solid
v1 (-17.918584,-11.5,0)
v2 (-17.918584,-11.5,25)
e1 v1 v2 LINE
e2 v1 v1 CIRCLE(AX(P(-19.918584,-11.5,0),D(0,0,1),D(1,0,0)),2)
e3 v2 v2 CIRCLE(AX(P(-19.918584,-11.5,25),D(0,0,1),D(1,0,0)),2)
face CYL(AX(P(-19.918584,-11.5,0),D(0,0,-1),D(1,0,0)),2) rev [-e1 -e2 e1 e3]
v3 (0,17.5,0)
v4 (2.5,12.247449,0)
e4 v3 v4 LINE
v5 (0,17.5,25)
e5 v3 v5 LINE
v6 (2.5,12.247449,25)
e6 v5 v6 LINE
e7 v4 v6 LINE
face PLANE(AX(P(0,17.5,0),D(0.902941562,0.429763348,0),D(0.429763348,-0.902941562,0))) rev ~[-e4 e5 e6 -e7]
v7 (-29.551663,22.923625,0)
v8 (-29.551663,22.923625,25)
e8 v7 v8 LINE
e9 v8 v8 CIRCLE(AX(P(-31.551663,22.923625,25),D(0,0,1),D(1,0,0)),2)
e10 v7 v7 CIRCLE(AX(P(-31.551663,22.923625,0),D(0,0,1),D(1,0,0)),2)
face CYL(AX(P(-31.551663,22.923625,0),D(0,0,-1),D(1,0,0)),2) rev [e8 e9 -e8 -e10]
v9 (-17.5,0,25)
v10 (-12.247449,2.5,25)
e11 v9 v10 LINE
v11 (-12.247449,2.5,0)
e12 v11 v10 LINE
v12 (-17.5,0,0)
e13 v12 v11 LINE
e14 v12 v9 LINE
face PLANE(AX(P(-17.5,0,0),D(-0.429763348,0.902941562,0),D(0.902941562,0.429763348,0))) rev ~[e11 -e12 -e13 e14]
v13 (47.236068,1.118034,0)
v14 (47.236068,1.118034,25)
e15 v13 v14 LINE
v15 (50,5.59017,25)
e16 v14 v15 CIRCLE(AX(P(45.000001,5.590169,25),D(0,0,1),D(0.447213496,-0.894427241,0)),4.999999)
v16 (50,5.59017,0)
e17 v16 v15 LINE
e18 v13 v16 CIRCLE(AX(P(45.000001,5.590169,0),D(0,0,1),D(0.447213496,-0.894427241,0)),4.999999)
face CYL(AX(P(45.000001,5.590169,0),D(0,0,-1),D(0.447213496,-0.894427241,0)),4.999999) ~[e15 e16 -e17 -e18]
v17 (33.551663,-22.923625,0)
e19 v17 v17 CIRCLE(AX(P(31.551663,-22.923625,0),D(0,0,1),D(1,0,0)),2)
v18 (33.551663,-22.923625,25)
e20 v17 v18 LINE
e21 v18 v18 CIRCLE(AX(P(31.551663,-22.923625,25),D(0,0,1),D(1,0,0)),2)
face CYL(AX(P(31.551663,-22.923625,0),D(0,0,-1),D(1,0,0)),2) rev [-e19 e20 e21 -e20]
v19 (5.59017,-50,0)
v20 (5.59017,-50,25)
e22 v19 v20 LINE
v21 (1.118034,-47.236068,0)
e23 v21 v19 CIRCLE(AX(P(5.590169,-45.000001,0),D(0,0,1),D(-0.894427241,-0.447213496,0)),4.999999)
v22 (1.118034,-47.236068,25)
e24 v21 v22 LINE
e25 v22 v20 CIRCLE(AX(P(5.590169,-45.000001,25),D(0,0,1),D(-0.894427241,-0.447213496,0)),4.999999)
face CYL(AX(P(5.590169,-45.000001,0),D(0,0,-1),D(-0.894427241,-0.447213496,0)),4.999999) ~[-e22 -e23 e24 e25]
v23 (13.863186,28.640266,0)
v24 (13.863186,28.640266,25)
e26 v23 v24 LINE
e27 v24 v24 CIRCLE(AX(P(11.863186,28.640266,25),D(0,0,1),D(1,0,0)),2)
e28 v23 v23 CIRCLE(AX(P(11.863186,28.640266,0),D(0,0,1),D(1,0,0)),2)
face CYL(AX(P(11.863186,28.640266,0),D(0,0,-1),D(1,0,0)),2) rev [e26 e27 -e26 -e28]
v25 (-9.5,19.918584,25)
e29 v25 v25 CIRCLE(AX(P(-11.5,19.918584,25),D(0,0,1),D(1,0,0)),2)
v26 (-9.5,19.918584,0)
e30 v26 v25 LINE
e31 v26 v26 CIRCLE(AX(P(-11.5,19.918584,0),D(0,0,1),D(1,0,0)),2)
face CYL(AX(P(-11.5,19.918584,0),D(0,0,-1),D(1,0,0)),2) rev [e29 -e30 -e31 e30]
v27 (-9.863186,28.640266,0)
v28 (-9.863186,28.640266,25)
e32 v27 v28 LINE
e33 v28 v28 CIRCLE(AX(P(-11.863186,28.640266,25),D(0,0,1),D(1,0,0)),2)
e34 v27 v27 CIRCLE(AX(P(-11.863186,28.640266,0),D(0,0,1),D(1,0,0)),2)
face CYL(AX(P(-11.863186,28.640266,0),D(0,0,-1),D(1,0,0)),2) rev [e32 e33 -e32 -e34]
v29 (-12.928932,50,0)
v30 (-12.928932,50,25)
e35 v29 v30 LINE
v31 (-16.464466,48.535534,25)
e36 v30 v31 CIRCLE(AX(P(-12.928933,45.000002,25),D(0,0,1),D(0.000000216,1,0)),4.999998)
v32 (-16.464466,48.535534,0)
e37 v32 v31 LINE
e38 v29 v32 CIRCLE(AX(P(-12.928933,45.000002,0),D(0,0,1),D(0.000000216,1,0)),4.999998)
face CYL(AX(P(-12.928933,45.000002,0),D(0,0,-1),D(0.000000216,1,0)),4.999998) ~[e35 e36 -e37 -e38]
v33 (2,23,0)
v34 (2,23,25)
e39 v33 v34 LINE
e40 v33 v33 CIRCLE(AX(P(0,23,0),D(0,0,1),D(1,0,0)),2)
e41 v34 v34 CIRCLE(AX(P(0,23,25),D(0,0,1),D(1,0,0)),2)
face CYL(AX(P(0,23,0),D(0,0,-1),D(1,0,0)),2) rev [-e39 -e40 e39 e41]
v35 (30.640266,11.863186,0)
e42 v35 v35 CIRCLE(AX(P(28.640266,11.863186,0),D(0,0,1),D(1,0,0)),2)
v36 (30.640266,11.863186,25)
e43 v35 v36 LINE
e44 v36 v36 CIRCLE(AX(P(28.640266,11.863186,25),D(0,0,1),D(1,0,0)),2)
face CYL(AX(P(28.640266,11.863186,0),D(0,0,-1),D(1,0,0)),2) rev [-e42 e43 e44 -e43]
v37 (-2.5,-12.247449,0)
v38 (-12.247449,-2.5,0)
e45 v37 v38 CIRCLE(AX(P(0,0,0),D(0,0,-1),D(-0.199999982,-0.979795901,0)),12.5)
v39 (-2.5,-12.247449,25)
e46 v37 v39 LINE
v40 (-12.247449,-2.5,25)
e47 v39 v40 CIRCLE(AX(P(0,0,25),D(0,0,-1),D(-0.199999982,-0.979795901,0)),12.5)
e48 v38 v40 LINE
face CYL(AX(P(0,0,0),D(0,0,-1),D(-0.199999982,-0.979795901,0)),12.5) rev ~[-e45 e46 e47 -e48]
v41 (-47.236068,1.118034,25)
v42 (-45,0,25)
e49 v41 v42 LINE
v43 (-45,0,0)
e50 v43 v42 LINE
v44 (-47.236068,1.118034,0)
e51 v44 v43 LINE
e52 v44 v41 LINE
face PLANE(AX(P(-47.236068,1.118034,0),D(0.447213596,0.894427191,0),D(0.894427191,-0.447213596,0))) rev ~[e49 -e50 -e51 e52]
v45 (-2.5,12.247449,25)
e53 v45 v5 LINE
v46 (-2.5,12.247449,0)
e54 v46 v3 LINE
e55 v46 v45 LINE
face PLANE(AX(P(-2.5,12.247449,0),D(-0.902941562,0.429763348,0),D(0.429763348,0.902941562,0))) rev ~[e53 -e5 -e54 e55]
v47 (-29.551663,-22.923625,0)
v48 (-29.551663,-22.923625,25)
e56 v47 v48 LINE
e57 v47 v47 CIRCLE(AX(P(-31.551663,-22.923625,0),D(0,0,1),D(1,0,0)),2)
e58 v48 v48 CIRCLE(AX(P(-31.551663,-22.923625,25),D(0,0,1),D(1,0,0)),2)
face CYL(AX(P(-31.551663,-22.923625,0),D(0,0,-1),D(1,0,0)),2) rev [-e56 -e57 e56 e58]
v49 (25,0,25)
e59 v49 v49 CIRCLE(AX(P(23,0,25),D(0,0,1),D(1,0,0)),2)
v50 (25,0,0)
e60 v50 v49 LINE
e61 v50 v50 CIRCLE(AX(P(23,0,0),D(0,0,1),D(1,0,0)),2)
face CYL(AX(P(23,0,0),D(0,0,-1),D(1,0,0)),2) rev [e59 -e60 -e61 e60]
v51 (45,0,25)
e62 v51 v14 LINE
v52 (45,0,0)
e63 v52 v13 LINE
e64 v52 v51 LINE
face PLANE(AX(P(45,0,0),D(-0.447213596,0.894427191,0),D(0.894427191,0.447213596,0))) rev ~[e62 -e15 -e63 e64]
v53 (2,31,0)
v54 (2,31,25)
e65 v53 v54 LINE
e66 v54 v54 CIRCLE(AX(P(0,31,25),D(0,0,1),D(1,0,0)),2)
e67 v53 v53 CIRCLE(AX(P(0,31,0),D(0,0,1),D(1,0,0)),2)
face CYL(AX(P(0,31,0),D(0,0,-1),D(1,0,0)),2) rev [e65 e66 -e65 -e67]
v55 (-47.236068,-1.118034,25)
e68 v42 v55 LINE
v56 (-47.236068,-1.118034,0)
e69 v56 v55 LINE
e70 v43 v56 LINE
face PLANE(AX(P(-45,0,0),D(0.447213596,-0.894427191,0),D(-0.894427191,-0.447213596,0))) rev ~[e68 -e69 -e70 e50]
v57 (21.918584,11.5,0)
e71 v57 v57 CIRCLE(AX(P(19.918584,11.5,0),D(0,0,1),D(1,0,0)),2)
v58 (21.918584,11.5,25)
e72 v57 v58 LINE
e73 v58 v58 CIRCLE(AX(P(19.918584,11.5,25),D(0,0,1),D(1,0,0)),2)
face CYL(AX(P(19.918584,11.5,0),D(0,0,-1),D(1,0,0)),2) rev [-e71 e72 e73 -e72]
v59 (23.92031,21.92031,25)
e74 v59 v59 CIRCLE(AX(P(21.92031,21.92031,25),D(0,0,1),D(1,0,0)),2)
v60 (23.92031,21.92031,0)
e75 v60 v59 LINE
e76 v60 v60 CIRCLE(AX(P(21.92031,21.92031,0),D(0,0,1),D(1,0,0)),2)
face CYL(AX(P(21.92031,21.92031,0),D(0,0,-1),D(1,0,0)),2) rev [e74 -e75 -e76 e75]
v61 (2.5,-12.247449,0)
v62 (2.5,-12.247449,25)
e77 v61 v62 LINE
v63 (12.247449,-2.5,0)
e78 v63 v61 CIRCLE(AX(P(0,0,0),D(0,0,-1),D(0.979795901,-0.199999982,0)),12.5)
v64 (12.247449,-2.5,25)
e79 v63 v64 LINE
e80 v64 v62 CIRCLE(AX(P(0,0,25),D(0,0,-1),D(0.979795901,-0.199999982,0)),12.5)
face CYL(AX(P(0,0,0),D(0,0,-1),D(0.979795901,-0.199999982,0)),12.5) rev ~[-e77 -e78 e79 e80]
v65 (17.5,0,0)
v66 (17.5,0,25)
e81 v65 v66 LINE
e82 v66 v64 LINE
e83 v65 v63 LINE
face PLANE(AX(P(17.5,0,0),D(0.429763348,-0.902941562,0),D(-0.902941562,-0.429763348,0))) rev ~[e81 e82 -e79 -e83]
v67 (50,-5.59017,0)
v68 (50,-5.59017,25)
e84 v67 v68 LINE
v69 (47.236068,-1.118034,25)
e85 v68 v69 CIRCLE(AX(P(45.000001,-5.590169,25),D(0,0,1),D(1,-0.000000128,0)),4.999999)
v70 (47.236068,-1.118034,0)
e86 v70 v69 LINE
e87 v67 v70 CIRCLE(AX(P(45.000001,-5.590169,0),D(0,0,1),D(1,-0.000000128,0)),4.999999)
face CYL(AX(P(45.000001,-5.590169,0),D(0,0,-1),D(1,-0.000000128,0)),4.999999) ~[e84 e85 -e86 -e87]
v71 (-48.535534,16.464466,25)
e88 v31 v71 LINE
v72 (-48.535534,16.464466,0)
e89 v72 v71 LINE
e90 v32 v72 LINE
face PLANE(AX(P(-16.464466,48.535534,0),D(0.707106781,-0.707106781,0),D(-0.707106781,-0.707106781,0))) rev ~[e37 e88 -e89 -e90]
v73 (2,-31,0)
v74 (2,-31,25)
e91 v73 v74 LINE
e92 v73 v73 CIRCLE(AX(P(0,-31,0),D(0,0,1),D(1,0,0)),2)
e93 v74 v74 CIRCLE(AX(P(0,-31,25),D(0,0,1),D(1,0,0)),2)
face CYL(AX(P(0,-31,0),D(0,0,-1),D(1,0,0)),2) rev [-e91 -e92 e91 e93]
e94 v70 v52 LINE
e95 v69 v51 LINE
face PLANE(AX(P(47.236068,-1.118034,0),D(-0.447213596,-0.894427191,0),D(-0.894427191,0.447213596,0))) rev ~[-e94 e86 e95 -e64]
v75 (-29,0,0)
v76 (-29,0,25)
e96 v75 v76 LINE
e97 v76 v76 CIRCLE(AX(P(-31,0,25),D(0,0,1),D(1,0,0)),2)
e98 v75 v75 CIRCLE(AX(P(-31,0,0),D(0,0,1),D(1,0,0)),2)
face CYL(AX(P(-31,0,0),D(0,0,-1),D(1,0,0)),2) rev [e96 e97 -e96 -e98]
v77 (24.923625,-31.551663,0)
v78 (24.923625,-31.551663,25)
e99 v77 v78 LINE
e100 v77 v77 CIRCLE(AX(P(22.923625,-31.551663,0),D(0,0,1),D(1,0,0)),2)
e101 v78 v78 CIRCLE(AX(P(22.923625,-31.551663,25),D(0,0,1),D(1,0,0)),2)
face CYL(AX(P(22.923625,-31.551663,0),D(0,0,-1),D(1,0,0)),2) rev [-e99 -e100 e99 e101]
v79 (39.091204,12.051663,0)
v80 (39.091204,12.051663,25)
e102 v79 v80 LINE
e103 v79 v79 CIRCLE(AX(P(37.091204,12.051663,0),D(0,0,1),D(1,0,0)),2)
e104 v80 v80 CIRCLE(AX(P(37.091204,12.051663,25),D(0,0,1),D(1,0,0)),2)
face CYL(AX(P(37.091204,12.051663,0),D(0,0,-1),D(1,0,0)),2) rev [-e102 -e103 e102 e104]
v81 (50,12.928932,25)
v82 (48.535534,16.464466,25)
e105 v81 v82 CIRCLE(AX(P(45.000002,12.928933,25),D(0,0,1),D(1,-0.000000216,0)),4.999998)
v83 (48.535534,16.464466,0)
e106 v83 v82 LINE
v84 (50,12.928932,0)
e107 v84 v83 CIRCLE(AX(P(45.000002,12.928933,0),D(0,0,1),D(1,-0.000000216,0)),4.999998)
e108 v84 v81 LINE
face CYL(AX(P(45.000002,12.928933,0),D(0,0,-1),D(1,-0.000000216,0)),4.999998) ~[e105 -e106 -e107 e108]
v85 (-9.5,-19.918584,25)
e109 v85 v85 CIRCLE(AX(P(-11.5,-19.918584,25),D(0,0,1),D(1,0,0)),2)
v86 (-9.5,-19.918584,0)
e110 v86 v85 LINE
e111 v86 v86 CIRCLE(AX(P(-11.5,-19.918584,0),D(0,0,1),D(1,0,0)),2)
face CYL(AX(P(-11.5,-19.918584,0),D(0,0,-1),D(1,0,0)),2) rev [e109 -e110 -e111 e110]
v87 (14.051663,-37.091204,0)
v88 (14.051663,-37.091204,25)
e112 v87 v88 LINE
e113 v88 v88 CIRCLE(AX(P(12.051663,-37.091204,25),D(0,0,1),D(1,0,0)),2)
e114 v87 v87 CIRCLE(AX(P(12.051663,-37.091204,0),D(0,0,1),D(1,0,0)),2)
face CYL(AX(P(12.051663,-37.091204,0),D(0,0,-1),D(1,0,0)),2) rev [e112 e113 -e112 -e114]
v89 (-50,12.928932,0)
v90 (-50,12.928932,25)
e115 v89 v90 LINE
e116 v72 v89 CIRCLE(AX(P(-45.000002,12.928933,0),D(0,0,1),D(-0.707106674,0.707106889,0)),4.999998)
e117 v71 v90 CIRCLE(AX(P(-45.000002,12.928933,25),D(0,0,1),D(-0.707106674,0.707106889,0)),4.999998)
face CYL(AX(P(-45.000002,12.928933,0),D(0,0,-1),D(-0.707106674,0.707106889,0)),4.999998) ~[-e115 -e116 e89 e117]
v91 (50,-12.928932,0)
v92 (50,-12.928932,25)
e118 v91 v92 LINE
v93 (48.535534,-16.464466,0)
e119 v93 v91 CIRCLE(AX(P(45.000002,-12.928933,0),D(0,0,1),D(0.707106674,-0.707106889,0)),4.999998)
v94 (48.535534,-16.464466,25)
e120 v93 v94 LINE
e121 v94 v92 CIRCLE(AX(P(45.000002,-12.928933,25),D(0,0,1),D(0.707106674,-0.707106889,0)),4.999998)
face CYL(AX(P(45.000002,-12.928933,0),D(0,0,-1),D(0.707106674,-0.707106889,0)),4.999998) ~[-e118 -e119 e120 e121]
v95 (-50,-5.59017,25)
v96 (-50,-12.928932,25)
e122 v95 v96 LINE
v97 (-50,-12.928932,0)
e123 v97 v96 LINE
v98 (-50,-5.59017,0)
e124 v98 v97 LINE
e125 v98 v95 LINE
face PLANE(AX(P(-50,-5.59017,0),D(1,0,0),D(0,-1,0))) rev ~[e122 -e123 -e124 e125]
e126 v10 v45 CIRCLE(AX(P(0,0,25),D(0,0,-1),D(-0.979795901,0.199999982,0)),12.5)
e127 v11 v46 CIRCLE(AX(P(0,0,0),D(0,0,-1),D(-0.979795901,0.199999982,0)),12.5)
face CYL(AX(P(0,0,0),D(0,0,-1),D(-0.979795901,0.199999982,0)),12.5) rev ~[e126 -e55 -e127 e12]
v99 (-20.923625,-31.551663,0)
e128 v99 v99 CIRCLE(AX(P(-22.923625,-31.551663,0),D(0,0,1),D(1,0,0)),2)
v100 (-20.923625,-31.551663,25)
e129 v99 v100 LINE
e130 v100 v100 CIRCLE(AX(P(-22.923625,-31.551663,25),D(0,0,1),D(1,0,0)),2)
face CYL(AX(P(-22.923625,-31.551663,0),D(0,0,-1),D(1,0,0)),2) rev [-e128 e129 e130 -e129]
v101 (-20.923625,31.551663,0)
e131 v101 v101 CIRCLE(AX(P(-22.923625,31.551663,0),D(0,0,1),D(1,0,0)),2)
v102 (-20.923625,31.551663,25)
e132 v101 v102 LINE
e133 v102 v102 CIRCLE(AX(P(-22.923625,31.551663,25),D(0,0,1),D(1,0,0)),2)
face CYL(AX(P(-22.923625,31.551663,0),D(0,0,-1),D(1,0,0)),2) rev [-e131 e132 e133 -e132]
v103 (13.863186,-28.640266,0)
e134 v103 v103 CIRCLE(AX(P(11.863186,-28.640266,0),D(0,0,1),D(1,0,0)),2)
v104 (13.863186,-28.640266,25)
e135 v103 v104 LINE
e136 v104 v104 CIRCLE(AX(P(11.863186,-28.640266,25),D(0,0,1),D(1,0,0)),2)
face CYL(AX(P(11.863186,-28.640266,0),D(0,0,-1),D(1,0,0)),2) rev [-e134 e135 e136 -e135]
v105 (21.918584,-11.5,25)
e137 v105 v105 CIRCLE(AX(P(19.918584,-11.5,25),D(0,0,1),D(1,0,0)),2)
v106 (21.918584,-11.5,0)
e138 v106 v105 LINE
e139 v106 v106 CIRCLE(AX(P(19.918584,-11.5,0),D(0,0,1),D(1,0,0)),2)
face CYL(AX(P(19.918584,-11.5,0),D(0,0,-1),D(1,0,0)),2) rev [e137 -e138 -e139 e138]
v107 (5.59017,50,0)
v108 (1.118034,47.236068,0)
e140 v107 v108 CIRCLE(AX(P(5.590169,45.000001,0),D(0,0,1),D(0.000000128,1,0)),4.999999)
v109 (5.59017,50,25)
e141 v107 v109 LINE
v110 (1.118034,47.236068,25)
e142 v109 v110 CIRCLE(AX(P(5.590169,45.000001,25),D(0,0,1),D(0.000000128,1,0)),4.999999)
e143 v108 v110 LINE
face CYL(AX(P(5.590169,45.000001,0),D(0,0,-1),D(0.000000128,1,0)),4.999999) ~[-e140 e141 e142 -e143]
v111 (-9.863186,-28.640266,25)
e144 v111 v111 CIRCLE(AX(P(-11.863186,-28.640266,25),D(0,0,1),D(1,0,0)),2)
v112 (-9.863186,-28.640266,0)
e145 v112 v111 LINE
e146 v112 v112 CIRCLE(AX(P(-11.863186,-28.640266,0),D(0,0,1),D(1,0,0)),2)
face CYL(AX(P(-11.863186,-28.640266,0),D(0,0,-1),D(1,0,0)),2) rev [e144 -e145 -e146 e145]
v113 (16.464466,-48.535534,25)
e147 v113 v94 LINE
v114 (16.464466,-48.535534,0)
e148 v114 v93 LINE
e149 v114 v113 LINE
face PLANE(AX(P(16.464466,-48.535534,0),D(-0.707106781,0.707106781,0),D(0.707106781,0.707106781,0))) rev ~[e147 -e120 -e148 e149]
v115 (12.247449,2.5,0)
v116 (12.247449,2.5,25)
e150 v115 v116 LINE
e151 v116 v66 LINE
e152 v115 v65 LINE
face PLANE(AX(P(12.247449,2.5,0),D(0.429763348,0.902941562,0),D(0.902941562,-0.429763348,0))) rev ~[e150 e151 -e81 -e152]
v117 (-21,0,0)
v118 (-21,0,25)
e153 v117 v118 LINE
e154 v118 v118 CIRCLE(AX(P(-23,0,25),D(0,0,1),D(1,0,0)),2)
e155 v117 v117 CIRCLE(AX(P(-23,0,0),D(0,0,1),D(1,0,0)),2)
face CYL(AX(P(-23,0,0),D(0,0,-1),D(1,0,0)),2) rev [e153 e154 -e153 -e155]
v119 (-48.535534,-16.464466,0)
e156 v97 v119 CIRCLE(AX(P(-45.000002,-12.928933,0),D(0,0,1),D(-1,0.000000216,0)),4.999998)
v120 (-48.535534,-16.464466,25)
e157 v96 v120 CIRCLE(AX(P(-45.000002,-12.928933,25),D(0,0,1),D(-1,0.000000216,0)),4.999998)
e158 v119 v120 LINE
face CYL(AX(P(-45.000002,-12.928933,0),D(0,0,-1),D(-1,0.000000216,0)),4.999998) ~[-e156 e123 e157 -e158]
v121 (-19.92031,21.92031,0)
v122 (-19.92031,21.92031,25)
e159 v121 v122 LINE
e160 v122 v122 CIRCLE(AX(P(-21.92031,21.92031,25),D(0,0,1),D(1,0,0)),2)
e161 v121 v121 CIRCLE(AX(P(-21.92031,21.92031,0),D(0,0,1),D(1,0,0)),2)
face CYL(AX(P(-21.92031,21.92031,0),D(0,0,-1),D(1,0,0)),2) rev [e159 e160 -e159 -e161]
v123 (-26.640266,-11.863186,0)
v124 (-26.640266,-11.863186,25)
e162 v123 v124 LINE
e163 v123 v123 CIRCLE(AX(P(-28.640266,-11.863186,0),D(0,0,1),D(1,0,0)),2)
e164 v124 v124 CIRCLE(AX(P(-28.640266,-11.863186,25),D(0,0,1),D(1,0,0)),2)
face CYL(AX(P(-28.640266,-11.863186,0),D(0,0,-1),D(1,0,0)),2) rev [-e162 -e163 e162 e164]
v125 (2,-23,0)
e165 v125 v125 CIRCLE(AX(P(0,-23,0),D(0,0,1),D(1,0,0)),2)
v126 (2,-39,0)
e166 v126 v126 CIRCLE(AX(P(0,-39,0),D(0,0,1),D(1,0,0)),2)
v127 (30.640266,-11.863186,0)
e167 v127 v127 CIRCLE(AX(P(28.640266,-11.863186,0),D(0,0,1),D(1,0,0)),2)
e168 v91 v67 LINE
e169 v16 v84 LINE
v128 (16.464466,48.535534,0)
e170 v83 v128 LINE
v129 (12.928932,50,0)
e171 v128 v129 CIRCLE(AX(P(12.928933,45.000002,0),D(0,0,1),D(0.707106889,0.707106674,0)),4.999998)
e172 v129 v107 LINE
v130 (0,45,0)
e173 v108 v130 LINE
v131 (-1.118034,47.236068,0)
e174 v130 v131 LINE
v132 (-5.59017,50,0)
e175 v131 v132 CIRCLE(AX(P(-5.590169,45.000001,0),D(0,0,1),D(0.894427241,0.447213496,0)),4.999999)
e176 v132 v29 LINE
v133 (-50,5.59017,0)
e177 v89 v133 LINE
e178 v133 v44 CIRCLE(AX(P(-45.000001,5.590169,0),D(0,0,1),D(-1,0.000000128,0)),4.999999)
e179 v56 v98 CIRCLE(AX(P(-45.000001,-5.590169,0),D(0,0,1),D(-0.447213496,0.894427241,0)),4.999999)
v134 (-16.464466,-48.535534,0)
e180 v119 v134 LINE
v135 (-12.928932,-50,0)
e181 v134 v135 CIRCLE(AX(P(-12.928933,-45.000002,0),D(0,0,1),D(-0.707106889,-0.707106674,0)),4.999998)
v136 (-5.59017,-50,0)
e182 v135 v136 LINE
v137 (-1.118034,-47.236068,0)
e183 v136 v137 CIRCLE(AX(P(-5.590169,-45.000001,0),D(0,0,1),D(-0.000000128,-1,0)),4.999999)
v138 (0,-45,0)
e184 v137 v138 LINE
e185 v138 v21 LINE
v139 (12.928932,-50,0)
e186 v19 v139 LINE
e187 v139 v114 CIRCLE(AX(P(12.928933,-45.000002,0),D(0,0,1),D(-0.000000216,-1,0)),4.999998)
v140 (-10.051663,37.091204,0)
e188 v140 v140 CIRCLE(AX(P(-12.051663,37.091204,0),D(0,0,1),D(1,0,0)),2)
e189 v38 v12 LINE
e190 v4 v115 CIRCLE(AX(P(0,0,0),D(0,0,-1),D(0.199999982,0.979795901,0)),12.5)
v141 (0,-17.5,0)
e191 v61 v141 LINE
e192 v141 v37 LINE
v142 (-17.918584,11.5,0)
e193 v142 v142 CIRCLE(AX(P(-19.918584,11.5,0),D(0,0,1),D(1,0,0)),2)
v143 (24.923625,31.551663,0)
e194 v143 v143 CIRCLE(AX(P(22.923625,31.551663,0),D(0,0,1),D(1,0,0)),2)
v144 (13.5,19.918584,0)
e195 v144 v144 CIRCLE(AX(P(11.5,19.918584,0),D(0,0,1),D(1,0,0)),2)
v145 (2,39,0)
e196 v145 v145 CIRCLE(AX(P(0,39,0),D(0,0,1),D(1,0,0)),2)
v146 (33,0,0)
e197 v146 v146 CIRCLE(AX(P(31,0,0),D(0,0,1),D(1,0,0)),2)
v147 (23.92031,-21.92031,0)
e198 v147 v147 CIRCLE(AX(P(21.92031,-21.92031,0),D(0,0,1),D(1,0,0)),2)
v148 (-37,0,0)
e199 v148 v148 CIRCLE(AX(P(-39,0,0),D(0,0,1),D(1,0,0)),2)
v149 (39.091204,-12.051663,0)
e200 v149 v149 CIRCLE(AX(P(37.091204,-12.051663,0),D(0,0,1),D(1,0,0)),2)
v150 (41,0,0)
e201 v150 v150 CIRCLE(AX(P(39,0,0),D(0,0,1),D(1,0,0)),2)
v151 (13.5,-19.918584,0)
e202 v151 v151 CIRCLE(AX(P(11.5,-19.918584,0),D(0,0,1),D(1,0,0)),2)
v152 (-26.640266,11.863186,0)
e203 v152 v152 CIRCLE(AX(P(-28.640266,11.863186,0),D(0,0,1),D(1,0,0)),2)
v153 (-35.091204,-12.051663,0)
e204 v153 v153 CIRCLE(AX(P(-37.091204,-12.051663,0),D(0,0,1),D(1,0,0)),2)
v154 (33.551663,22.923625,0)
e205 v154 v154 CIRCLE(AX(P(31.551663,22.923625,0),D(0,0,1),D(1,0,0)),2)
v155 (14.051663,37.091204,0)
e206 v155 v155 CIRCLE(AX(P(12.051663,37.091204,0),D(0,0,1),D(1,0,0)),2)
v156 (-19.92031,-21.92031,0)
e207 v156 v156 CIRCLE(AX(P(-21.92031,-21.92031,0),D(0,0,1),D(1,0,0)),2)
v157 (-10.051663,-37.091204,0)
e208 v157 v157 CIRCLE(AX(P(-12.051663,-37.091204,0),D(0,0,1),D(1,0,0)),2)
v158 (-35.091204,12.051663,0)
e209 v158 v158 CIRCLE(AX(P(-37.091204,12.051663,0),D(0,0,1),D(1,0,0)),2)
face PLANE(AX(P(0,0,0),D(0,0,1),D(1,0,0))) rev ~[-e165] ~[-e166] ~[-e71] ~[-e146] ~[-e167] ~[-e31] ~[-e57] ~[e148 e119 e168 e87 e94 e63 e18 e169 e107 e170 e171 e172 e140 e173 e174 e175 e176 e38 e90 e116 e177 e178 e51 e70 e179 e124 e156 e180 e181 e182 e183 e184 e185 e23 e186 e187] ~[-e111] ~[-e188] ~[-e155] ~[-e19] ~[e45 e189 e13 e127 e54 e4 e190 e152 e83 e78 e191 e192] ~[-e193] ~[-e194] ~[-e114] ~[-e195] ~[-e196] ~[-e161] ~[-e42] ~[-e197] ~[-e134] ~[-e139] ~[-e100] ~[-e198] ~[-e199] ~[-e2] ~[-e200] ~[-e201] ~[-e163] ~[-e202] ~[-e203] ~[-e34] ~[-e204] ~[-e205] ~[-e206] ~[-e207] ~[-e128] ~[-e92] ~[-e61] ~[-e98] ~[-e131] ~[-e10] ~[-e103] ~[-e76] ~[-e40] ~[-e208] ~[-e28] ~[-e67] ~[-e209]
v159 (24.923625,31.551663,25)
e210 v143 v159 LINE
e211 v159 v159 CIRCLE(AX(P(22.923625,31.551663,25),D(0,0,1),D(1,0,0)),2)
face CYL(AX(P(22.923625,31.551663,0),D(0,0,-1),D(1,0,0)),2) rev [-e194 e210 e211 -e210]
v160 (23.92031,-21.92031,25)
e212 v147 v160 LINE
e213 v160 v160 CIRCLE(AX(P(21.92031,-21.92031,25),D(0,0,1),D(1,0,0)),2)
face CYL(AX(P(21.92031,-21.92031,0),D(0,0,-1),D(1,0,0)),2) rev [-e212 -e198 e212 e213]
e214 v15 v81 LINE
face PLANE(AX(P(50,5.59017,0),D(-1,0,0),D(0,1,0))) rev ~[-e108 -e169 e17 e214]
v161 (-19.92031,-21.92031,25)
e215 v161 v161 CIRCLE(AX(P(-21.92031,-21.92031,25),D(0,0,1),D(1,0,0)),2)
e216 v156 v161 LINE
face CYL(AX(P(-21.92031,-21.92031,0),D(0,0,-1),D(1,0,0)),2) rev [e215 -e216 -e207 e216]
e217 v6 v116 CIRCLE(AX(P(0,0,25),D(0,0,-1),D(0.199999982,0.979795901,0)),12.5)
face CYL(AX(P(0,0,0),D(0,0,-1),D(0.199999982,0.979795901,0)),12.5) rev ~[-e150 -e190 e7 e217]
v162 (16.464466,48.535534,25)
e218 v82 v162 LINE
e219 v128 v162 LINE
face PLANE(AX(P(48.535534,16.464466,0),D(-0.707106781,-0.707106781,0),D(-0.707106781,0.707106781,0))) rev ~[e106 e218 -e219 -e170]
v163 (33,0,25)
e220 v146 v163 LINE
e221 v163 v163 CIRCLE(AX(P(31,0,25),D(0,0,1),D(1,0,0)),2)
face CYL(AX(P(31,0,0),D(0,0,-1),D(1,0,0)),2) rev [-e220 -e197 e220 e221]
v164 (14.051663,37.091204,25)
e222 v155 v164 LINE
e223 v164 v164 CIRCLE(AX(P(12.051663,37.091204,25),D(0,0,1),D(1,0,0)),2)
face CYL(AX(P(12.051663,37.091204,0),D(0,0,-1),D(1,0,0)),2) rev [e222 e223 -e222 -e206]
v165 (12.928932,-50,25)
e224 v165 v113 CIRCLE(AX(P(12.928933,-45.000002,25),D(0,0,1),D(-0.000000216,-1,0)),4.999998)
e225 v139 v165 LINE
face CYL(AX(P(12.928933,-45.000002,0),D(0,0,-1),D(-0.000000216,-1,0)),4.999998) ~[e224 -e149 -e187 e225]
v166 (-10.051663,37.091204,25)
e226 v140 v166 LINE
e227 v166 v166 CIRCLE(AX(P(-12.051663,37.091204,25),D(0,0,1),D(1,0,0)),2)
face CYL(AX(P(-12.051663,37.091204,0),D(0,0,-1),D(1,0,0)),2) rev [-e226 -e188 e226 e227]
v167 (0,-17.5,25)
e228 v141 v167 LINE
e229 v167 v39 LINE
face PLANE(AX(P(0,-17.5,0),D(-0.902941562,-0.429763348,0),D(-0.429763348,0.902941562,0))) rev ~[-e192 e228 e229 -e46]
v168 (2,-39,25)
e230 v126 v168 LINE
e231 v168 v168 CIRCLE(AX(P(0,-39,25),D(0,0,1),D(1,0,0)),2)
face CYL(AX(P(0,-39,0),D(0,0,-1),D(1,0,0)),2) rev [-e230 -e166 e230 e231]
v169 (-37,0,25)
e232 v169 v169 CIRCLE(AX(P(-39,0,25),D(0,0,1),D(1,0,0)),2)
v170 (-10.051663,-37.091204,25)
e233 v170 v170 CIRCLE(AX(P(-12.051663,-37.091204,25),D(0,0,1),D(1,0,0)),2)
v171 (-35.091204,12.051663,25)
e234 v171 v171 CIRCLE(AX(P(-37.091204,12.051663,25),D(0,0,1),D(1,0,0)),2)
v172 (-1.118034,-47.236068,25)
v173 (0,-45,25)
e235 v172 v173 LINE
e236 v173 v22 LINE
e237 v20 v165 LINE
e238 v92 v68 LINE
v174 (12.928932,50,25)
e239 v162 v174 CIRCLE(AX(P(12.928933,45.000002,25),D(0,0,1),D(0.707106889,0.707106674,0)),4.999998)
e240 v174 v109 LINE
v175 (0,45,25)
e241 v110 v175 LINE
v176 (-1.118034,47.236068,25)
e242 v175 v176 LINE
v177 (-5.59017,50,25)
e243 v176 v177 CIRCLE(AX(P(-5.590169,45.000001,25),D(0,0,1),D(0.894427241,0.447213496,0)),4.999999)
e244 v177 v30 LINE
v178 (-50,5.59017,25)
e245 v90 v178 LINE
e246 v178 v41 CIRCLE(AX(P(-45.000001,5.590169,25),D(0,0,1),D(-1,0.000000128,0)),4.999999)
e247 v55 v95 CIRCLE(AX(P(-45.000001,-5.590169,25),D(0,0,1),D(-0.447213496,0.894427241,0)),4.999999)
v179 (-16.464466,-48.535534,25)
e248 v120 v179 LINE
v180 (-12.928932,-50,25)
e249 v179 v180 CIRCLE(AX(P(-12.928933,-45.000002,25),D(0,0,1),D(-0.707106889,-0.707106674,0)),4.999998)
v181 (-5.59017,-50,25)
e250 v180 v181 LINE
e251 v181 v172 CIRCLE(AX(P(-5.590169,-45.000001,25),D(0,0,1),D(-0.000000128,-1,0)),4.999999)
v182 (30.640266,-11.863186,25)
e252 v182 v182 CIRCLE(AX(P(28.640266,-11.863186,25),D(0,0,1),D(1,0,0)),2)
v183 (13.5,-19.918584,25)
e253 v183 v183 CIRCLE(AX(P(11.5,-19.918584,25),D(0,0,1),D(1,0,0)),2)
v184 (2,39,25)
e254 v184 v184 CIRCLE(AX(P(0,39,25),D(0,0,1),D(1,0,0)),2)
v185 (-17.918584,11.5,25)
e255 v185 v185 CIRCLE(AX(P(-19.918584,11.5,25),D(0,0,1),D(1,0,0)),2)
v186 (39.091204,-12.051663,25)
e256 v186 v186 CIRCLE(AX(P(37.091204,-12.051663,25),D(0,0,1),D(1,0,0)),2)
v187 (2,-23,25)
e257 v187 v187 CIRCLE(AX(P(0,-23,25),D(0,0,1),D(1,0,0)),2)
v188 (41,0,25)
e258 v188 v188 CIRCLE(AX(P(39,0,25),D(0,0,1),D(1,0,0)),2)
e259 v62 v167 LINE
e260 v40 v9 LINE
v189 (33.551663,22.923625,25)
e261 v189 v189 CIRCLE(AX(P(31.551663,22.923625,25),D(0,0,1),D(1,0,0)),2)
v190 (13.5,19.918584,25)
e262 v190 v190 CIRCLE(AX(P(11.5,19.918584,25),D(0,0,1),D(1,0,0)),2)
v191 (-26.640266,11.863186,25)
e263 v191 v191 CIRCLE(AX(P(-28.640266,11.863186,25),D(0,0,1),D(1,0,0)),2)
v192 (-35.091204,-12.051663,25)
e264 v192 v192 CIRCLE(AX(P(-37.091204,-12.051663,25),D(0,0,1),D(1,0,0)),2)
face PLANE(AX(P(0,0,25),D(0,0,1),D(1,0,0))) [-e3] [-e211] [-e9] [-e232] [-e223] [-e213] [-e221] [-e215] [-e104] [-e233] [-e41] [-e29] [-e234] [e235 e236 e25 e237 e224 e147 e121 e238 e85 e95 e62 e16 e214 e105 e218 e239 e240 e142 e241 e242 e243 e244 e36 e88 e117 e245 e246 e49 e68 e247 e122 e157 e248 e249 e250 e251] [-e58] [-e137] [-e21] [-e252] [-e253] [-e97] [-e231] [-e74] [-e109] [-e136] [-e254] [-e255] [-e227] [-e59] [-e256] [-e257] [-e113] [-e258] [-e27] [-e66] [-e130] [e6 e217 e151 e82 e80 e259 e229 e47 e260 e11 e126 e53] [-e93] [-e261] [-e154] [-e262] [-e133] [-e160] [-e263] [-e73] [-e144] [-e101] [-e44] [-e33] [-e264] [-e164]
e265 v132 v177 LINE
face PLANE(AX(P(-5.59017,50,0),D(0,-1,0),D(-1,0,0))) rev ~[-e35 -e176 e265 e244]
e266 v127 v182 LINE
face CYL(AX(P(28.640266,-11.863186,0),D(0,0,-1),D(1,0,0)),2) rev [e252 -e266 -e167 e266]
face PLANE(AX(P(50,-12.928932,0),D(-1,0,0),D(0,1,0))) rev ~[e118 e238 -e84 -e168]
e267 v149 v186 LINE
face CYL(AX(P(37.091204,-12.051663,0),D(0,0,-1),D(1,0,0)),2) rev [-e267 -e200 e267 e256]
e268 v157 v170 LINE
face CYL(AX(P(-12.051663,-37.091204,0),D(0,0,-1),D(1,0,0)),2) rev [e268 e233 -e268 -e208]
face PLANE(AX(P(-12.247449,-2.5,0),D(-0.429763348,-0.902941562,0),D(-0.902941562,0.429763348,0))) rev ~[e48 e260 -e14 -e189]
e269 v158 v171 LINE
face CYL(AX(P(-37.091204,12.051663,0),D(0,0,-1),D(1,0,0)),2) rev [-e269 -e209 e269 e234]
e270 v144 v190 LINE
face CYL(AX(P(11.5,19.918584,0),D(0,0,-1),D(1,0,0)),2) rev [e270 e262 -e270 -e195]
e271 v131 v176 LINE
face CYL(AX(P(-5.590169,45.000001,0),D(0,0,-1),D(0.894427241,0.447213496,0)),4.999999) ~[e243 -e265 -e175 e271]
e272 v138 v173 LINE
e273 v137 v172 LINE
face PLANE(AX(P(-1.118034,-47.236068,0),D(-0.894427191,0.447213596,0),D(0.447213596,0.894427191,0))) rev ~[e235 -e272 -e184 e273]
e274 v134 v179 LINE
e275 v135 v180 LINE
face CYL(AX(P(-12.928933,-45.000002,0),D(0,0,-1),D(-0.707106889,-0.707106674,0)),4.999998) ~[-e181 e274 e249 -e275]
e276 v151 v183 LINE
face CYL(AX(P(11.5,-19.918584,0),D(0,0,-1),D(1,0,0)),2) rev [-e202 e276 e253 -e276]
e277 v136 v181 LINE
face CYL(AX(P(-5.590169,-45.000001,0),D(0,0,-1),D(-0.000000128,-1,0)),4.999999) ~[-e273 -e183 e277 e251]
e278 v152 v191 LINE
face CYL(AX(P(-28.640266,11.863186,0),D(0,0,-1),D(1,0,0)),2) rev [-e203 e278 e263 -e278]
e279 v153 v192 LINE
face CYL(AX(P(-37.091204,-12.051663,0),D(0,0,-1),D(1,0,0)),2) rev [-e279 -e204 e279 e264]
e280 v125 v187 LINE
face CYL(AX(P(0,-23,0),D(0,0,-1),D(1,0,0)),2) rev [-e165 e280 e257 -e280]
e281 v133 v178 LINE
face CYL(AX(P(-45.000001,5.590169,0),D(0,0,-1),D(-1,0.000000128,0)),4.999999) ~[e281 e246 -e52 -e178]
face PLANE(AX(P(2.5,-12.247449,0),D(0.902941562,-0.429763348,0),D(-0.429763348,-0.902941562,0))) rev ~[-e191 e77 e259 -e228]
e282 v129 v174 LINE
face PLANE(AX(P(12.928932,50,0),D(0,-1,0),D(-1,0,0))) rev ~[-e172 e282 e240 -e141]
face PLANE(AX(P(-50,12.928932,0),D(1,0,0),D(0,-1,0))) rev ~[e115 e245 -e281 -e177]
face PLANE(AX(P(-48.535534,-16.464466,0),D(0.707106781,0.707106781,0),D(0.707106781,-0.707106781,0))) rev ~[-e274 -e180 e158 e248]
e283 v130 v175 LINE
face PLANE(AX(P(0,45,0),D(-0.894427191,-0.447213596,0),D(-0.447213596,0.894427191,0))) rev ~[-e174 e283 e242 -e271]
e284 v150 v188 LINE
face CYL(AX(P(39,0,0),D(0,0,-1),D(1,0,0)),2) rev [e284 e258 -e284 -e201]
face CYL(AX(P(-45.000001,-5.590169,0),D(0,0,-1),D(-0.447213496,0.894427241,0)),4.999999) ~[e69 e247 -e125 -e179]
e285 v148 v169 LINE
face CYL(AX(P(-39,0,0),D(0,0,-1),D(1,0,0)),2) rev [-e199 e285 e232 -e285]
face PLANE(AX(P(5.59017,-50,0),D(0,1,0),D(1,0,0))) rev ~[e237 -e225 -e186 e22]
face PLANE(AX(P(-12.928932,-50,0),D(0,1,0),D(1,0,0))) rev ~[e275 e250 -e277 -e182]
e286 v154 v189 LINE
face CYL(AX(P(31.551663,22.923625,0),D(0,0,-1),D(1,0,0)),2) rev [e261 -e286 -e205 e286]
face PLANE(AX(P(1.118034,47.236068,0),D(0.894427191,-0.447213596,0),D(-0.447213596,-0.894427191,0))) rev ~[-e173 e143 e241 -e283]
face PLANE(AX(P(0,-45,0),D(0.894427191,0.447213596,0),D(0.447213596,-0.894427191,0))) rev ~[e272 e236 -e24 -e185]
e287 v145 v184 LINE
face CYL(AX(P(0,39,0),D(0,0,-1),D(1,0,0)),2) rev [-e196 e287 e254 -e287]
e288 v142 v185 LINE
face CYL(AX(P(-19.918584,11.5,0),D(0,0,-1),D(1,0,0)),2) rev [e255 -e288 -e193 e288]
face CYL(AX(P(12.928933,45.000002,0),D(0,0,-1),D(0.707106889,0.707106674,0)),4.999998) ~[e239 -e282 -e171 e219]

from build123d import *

# Parameters (mm, degrees)
F0_R     = 2
F1_DEPTH = 25


with BuildPart() as f1:
    # F0 (on Top) → F1 (new body)
    with BuildSketch(Plane.XY):
        with BuildLine():
            Line((-5.59017, 50), (-12.928932, 50))
            ThreePointArc((-12.928932, 50), (-14.842349, 49.619398), (-16.464466, 48.535534))
            Line((-16.464466, 48.535534), (-48.535534, 16.464466))
            ThreePointArc((-48.535534, 16.464466), (-49.619398, 14.842349), (-50, 12.928932))
            Line((-50, 12.928932), (-50, 5.59017))
            ThreePointArc((-50, 5.59017), (-49.253254, 2.961514), (-47.236068, 1.118034))
            Line((-47.236068, 1.118034), (-45, 0))
            Line((-45, 0), (-47.236068, -1.118034))
            ThreePointArc((-47.236068, -1.118034), (-49.253254, -2.961514), (-50, -5.59017))
            Line((-50, -5.59017), (-50, -12.928932))
            ThreePointArc((-50, -12.928932), (-49.619398, -14.842349), (-48.535534, -16.464466))
            Line((-48.535534, -16.464466), (-16.464466, -48.535534))
            ThreePointArc((-16.464466, -48.535534), (-14.842349, -49.619398), (-12.928932, -50))
            Line((-12.928932, -50), (-5.59017, -50))
            ThreePointArc((-5.59017, -50), (-2.961514, -49.253254), (-1.118034, -47.236068))
            Line((-1.118034, -47.236068), (0, -45))
            Line((0, -45), (1.118034, -47.236068))
            ThreePointArc((1.118034, -47.236068), (2.961514, -49.253254), (5.59017, -50))
            Line((5.59017, -50), (12.928932, -50))
            ThreePointArc((12.928932, -50), (14.842349, -49.619398), (16.464466, -48.535534))
            Line((16.464466, -48.535534), (48.535534, -16.464466))
            ThreePointArc((48.535534, -16.464466), (49.619398, -14.842349), (50, -12.928932))
            Line((50, -12.928932), (50, -5.59017))
            ThreePointArc((50, -5.59017), (49.253254, -2.961514), (47.236068, -1.118034))
            Line((47.236068, -1.118034), (45, 0))
            Line((45, 0), (47.236068, 1.118034))
            ThreePointArc((47.236068, 1.118034), (49.253254, 2.961514), (50, 5.59017))
            Line((50, 5.59017), (50, 12.928932))
            ThreePointArc((50, 12.928932), (49.619398, 14.842349), (48.535534, 16.464466))
            Line((48.535534, 16.464466), (16.464466, 48.535534))
            ThreePointArc((16.464466, 48.535534), (14.842349, 49.619398), (12.928932, 50))
            Line((12.928932, 50), (5.59017, 50))
            ThreePointArc((5.59017, 50), (2.961514, 49.253254), (1.118034, 47.236068))
            Line((1.118034, 47.236068), (0, 45))
            Line((0, 45), (-1.118034, 47.236068))
            ThreePointArc((-1.118034, 47.236068), (-2.961514, 49.253254), (-5.59017, 50))
        make_face()
        with Locations((-22.923625, -31.551663)):
            Circle(F0_R, mode=Mode.SUBTRACT)
        with Locations((-12.051663, -37.091204)):
            Circle(F0_R, mode=Mode.SUBTRACT)
        with Locations((-11.863186, -28.640266)):
            Circle(F0_R, mode=Mode.SUBTRACT)
        with Locations((-31.551663, -22.923625)):
            Circle(F0_R, mode=Mode.SUBTRACT)
        with Locations((-37.091204, -12.051663)):
            Circle(F0_R, mode=Mode.SUBTRACT)
        with Locations((-28.640266, -11.863186)):
            Circle(F0_R, mode=Mode.SUBTRACT)
        with Locations((-21.92031, -21.92031)):
            Circle(F0_R, mode=Mode.SUBTRACT)
        with Locations((-11.5, -19.918584)):
            Circle(F0_R, mode=Mode.SUBTRACT)
        with Locations((-19.918584, -11.5)):
            Circle(F0_R, mode=Mode.SUBTRACT)
        with Locations((0, -39)):
            Circle(F0_R, mode=Mode.SUBTRACT)
        with Locations((12.051663, -37.091204)):
            Circle(F0_R, mode=Mode.SUBTRACT)
        with Locations((0, -31)):
            Circle(F0_R, mode=Mode.SUBTRACT)
        with Locations((11.863186, -28.640266)):
            Circle(F0_R, mode=Mode.SUBTRACT)
        with Locations((22.923625, -31.551663)):
            Circle(F0_R, mode=Mode.SUBTRACT)
        with Locations((0, -23)):
            Circle(F0_R, mode=Mode.SUBTRACT)
        with Locations((11.5, -19.918584)):
            Circle(F0_R, mode=Mode.SUBTRACT)
        with Locations((21.92031, -21.92031)):
            Circle(F0_R, mode=Mode.SUBTRACT)
        with Locations((19.918584, -11.5)):
            Circle(F0_R, mode=Mode.SUBTRACT)
        with Locations((31.551663, -22.923625)):
            Circle(F0_R, mode=Mode.SUBTRACT)
        with Locations((28.640266, -11.863186)):
            Circle(F0_R, mode=Mode.SUBTRACT)
        with Locations((37.091204, -12.051663)):
            Circle(F0_R, mode=Mode.SUBTRACT)
        with Locations((-39, 0)):
            Circle(F0_R, mode=Mode.SUBTRACT)
        with Locations((-31, 0)):
            Circle(F0_R, mode=Mode.SUBTRACT)
        with Locations((-37.091204, 12.051663)):
            Circle(F0_R, mode=Mode.SUBTRACT)
        with Locations((-28.640266, 11.863186)):
            Circle(F0_R, mode=Mode.SUBTRACT)
        with Locations((-31.551663, 22.923625)):
            Circle(F0_R, mode=Mode.SUBTRACT)
        with Locations((-23, 0)):
            Circle(F0_R, mode=Mode.SUBTRACT)
        with Locations((-19.918584, 11.5)):
            Circle(F0_R, mode=Mode.SUBTRACT)
        with Locations((-21.92031, 21.92031)):
            Circle(F0_R, mode=Mode.SUBTRACT)
        with Locations((-11.5, 19.918584)):
            Circle(F0_R, mode=Mode.SUBTRACT)
        with Locations((-22.923625, 31.551663)):
            Circle(F0_R, mode=Mode.SUBTRACT)
        with Locations((-11.863186, 28.640266)):
            Circle(F0_R, mode=Mode.SUBTRACT)
        with Locations((-12.051663, 37.091204)):
            Circle(F0_R, mode=Mode.SUBTRACT)
        with BuildLine():
            ThreePointArc((-12.247449, 2.5), (-8.838835, 8.838835), (-2.5, 12.247449))
            Line((-2.5, 12.247449), (0, 17.5))
            Line((0, 17.5), (2.5, 12.247449))
            ThreePointArc((2.5, 12.247449), (8.838835, 8.838835), (12.247449, 2.5))
            Line((12.247449, 2.5), (17.5, 0))
            Line((17.5, 0), (12.247449, -2.5))
            ThreePointArc((12.247449, -2.5), (8.838835, -8.838835), (2.5, -12.247449))
            Line((2.5, -12.247449), (0, -17.5))
            Line((0, -17.5), (-2.5, -12.247449))
            ThreePointArc((-2.5, -12.247449), (-8.838835, -8.838835), (-12.247449, -2.5))
            Line((-12.247449, -2.5), (-17.5, 0))
            Line((-17.5, 0), (-12.247449, 2.5))
        make_face(mode=Mode.SUBTRACT)
        with Locations((23, 0)):
            Circle(F0_R, mode=Mode.SUBTRACT)
        with Locations((19.918584, 11.5)):
            Circle(F0_R, mode=Mode.SUBTRACT)
        with Locations((0, 23)):
            Circle(F0_R, mode=Mode.SUBTRACT)
        with Locations((11.5, 19.918584)):
            Circle(F0_R, mode=Mode.SUBTRACT)
        with Locations((21.92031, 21.92031)):
            Circle(F0_R, mode=Mode.SUBTRACT)
        with Locations((31, 0)):
            Circle(F0_R, mode=Mode.SUBTRACT)
        with Locations((28.640266, 11.863186)):
            Circle(F0_R, mode=Mode.SUBTRACT)
        with Locations((37.091204, 12.051663)):
            Circle(F0_R, mode=Mode.SUBTRACT)
        with Locations((39, 0)):
            Circle(F0_R, mode=Mode.SUBTRACT)
        with Locations((31.551663, 22.923625)):
            Circle(F0_R, mode=Mode.SUBTRACT)
        with Locations((0, 31)):
            Circle(F0_R, mode=Mode.SUBTRACT)
        with Locations((11.863186, 28.640266)):
            Circle(F0_R, mode=Mode.SUBTRACT)
        with Locations((12.051663, 37.091204)):
            Circle(F0_R, mode=Mode.SUBTRACT)
        with Locations((22.923625, 31.551663)):
            Circle(F0_R, mode=Mode.SUBTRACT)
        with Locations((0, 39)):
            Circle(F0_R, mode=Mode.SUBTRACT)
    extrude(amount=F1_DEPTH)


solid = f1.part
